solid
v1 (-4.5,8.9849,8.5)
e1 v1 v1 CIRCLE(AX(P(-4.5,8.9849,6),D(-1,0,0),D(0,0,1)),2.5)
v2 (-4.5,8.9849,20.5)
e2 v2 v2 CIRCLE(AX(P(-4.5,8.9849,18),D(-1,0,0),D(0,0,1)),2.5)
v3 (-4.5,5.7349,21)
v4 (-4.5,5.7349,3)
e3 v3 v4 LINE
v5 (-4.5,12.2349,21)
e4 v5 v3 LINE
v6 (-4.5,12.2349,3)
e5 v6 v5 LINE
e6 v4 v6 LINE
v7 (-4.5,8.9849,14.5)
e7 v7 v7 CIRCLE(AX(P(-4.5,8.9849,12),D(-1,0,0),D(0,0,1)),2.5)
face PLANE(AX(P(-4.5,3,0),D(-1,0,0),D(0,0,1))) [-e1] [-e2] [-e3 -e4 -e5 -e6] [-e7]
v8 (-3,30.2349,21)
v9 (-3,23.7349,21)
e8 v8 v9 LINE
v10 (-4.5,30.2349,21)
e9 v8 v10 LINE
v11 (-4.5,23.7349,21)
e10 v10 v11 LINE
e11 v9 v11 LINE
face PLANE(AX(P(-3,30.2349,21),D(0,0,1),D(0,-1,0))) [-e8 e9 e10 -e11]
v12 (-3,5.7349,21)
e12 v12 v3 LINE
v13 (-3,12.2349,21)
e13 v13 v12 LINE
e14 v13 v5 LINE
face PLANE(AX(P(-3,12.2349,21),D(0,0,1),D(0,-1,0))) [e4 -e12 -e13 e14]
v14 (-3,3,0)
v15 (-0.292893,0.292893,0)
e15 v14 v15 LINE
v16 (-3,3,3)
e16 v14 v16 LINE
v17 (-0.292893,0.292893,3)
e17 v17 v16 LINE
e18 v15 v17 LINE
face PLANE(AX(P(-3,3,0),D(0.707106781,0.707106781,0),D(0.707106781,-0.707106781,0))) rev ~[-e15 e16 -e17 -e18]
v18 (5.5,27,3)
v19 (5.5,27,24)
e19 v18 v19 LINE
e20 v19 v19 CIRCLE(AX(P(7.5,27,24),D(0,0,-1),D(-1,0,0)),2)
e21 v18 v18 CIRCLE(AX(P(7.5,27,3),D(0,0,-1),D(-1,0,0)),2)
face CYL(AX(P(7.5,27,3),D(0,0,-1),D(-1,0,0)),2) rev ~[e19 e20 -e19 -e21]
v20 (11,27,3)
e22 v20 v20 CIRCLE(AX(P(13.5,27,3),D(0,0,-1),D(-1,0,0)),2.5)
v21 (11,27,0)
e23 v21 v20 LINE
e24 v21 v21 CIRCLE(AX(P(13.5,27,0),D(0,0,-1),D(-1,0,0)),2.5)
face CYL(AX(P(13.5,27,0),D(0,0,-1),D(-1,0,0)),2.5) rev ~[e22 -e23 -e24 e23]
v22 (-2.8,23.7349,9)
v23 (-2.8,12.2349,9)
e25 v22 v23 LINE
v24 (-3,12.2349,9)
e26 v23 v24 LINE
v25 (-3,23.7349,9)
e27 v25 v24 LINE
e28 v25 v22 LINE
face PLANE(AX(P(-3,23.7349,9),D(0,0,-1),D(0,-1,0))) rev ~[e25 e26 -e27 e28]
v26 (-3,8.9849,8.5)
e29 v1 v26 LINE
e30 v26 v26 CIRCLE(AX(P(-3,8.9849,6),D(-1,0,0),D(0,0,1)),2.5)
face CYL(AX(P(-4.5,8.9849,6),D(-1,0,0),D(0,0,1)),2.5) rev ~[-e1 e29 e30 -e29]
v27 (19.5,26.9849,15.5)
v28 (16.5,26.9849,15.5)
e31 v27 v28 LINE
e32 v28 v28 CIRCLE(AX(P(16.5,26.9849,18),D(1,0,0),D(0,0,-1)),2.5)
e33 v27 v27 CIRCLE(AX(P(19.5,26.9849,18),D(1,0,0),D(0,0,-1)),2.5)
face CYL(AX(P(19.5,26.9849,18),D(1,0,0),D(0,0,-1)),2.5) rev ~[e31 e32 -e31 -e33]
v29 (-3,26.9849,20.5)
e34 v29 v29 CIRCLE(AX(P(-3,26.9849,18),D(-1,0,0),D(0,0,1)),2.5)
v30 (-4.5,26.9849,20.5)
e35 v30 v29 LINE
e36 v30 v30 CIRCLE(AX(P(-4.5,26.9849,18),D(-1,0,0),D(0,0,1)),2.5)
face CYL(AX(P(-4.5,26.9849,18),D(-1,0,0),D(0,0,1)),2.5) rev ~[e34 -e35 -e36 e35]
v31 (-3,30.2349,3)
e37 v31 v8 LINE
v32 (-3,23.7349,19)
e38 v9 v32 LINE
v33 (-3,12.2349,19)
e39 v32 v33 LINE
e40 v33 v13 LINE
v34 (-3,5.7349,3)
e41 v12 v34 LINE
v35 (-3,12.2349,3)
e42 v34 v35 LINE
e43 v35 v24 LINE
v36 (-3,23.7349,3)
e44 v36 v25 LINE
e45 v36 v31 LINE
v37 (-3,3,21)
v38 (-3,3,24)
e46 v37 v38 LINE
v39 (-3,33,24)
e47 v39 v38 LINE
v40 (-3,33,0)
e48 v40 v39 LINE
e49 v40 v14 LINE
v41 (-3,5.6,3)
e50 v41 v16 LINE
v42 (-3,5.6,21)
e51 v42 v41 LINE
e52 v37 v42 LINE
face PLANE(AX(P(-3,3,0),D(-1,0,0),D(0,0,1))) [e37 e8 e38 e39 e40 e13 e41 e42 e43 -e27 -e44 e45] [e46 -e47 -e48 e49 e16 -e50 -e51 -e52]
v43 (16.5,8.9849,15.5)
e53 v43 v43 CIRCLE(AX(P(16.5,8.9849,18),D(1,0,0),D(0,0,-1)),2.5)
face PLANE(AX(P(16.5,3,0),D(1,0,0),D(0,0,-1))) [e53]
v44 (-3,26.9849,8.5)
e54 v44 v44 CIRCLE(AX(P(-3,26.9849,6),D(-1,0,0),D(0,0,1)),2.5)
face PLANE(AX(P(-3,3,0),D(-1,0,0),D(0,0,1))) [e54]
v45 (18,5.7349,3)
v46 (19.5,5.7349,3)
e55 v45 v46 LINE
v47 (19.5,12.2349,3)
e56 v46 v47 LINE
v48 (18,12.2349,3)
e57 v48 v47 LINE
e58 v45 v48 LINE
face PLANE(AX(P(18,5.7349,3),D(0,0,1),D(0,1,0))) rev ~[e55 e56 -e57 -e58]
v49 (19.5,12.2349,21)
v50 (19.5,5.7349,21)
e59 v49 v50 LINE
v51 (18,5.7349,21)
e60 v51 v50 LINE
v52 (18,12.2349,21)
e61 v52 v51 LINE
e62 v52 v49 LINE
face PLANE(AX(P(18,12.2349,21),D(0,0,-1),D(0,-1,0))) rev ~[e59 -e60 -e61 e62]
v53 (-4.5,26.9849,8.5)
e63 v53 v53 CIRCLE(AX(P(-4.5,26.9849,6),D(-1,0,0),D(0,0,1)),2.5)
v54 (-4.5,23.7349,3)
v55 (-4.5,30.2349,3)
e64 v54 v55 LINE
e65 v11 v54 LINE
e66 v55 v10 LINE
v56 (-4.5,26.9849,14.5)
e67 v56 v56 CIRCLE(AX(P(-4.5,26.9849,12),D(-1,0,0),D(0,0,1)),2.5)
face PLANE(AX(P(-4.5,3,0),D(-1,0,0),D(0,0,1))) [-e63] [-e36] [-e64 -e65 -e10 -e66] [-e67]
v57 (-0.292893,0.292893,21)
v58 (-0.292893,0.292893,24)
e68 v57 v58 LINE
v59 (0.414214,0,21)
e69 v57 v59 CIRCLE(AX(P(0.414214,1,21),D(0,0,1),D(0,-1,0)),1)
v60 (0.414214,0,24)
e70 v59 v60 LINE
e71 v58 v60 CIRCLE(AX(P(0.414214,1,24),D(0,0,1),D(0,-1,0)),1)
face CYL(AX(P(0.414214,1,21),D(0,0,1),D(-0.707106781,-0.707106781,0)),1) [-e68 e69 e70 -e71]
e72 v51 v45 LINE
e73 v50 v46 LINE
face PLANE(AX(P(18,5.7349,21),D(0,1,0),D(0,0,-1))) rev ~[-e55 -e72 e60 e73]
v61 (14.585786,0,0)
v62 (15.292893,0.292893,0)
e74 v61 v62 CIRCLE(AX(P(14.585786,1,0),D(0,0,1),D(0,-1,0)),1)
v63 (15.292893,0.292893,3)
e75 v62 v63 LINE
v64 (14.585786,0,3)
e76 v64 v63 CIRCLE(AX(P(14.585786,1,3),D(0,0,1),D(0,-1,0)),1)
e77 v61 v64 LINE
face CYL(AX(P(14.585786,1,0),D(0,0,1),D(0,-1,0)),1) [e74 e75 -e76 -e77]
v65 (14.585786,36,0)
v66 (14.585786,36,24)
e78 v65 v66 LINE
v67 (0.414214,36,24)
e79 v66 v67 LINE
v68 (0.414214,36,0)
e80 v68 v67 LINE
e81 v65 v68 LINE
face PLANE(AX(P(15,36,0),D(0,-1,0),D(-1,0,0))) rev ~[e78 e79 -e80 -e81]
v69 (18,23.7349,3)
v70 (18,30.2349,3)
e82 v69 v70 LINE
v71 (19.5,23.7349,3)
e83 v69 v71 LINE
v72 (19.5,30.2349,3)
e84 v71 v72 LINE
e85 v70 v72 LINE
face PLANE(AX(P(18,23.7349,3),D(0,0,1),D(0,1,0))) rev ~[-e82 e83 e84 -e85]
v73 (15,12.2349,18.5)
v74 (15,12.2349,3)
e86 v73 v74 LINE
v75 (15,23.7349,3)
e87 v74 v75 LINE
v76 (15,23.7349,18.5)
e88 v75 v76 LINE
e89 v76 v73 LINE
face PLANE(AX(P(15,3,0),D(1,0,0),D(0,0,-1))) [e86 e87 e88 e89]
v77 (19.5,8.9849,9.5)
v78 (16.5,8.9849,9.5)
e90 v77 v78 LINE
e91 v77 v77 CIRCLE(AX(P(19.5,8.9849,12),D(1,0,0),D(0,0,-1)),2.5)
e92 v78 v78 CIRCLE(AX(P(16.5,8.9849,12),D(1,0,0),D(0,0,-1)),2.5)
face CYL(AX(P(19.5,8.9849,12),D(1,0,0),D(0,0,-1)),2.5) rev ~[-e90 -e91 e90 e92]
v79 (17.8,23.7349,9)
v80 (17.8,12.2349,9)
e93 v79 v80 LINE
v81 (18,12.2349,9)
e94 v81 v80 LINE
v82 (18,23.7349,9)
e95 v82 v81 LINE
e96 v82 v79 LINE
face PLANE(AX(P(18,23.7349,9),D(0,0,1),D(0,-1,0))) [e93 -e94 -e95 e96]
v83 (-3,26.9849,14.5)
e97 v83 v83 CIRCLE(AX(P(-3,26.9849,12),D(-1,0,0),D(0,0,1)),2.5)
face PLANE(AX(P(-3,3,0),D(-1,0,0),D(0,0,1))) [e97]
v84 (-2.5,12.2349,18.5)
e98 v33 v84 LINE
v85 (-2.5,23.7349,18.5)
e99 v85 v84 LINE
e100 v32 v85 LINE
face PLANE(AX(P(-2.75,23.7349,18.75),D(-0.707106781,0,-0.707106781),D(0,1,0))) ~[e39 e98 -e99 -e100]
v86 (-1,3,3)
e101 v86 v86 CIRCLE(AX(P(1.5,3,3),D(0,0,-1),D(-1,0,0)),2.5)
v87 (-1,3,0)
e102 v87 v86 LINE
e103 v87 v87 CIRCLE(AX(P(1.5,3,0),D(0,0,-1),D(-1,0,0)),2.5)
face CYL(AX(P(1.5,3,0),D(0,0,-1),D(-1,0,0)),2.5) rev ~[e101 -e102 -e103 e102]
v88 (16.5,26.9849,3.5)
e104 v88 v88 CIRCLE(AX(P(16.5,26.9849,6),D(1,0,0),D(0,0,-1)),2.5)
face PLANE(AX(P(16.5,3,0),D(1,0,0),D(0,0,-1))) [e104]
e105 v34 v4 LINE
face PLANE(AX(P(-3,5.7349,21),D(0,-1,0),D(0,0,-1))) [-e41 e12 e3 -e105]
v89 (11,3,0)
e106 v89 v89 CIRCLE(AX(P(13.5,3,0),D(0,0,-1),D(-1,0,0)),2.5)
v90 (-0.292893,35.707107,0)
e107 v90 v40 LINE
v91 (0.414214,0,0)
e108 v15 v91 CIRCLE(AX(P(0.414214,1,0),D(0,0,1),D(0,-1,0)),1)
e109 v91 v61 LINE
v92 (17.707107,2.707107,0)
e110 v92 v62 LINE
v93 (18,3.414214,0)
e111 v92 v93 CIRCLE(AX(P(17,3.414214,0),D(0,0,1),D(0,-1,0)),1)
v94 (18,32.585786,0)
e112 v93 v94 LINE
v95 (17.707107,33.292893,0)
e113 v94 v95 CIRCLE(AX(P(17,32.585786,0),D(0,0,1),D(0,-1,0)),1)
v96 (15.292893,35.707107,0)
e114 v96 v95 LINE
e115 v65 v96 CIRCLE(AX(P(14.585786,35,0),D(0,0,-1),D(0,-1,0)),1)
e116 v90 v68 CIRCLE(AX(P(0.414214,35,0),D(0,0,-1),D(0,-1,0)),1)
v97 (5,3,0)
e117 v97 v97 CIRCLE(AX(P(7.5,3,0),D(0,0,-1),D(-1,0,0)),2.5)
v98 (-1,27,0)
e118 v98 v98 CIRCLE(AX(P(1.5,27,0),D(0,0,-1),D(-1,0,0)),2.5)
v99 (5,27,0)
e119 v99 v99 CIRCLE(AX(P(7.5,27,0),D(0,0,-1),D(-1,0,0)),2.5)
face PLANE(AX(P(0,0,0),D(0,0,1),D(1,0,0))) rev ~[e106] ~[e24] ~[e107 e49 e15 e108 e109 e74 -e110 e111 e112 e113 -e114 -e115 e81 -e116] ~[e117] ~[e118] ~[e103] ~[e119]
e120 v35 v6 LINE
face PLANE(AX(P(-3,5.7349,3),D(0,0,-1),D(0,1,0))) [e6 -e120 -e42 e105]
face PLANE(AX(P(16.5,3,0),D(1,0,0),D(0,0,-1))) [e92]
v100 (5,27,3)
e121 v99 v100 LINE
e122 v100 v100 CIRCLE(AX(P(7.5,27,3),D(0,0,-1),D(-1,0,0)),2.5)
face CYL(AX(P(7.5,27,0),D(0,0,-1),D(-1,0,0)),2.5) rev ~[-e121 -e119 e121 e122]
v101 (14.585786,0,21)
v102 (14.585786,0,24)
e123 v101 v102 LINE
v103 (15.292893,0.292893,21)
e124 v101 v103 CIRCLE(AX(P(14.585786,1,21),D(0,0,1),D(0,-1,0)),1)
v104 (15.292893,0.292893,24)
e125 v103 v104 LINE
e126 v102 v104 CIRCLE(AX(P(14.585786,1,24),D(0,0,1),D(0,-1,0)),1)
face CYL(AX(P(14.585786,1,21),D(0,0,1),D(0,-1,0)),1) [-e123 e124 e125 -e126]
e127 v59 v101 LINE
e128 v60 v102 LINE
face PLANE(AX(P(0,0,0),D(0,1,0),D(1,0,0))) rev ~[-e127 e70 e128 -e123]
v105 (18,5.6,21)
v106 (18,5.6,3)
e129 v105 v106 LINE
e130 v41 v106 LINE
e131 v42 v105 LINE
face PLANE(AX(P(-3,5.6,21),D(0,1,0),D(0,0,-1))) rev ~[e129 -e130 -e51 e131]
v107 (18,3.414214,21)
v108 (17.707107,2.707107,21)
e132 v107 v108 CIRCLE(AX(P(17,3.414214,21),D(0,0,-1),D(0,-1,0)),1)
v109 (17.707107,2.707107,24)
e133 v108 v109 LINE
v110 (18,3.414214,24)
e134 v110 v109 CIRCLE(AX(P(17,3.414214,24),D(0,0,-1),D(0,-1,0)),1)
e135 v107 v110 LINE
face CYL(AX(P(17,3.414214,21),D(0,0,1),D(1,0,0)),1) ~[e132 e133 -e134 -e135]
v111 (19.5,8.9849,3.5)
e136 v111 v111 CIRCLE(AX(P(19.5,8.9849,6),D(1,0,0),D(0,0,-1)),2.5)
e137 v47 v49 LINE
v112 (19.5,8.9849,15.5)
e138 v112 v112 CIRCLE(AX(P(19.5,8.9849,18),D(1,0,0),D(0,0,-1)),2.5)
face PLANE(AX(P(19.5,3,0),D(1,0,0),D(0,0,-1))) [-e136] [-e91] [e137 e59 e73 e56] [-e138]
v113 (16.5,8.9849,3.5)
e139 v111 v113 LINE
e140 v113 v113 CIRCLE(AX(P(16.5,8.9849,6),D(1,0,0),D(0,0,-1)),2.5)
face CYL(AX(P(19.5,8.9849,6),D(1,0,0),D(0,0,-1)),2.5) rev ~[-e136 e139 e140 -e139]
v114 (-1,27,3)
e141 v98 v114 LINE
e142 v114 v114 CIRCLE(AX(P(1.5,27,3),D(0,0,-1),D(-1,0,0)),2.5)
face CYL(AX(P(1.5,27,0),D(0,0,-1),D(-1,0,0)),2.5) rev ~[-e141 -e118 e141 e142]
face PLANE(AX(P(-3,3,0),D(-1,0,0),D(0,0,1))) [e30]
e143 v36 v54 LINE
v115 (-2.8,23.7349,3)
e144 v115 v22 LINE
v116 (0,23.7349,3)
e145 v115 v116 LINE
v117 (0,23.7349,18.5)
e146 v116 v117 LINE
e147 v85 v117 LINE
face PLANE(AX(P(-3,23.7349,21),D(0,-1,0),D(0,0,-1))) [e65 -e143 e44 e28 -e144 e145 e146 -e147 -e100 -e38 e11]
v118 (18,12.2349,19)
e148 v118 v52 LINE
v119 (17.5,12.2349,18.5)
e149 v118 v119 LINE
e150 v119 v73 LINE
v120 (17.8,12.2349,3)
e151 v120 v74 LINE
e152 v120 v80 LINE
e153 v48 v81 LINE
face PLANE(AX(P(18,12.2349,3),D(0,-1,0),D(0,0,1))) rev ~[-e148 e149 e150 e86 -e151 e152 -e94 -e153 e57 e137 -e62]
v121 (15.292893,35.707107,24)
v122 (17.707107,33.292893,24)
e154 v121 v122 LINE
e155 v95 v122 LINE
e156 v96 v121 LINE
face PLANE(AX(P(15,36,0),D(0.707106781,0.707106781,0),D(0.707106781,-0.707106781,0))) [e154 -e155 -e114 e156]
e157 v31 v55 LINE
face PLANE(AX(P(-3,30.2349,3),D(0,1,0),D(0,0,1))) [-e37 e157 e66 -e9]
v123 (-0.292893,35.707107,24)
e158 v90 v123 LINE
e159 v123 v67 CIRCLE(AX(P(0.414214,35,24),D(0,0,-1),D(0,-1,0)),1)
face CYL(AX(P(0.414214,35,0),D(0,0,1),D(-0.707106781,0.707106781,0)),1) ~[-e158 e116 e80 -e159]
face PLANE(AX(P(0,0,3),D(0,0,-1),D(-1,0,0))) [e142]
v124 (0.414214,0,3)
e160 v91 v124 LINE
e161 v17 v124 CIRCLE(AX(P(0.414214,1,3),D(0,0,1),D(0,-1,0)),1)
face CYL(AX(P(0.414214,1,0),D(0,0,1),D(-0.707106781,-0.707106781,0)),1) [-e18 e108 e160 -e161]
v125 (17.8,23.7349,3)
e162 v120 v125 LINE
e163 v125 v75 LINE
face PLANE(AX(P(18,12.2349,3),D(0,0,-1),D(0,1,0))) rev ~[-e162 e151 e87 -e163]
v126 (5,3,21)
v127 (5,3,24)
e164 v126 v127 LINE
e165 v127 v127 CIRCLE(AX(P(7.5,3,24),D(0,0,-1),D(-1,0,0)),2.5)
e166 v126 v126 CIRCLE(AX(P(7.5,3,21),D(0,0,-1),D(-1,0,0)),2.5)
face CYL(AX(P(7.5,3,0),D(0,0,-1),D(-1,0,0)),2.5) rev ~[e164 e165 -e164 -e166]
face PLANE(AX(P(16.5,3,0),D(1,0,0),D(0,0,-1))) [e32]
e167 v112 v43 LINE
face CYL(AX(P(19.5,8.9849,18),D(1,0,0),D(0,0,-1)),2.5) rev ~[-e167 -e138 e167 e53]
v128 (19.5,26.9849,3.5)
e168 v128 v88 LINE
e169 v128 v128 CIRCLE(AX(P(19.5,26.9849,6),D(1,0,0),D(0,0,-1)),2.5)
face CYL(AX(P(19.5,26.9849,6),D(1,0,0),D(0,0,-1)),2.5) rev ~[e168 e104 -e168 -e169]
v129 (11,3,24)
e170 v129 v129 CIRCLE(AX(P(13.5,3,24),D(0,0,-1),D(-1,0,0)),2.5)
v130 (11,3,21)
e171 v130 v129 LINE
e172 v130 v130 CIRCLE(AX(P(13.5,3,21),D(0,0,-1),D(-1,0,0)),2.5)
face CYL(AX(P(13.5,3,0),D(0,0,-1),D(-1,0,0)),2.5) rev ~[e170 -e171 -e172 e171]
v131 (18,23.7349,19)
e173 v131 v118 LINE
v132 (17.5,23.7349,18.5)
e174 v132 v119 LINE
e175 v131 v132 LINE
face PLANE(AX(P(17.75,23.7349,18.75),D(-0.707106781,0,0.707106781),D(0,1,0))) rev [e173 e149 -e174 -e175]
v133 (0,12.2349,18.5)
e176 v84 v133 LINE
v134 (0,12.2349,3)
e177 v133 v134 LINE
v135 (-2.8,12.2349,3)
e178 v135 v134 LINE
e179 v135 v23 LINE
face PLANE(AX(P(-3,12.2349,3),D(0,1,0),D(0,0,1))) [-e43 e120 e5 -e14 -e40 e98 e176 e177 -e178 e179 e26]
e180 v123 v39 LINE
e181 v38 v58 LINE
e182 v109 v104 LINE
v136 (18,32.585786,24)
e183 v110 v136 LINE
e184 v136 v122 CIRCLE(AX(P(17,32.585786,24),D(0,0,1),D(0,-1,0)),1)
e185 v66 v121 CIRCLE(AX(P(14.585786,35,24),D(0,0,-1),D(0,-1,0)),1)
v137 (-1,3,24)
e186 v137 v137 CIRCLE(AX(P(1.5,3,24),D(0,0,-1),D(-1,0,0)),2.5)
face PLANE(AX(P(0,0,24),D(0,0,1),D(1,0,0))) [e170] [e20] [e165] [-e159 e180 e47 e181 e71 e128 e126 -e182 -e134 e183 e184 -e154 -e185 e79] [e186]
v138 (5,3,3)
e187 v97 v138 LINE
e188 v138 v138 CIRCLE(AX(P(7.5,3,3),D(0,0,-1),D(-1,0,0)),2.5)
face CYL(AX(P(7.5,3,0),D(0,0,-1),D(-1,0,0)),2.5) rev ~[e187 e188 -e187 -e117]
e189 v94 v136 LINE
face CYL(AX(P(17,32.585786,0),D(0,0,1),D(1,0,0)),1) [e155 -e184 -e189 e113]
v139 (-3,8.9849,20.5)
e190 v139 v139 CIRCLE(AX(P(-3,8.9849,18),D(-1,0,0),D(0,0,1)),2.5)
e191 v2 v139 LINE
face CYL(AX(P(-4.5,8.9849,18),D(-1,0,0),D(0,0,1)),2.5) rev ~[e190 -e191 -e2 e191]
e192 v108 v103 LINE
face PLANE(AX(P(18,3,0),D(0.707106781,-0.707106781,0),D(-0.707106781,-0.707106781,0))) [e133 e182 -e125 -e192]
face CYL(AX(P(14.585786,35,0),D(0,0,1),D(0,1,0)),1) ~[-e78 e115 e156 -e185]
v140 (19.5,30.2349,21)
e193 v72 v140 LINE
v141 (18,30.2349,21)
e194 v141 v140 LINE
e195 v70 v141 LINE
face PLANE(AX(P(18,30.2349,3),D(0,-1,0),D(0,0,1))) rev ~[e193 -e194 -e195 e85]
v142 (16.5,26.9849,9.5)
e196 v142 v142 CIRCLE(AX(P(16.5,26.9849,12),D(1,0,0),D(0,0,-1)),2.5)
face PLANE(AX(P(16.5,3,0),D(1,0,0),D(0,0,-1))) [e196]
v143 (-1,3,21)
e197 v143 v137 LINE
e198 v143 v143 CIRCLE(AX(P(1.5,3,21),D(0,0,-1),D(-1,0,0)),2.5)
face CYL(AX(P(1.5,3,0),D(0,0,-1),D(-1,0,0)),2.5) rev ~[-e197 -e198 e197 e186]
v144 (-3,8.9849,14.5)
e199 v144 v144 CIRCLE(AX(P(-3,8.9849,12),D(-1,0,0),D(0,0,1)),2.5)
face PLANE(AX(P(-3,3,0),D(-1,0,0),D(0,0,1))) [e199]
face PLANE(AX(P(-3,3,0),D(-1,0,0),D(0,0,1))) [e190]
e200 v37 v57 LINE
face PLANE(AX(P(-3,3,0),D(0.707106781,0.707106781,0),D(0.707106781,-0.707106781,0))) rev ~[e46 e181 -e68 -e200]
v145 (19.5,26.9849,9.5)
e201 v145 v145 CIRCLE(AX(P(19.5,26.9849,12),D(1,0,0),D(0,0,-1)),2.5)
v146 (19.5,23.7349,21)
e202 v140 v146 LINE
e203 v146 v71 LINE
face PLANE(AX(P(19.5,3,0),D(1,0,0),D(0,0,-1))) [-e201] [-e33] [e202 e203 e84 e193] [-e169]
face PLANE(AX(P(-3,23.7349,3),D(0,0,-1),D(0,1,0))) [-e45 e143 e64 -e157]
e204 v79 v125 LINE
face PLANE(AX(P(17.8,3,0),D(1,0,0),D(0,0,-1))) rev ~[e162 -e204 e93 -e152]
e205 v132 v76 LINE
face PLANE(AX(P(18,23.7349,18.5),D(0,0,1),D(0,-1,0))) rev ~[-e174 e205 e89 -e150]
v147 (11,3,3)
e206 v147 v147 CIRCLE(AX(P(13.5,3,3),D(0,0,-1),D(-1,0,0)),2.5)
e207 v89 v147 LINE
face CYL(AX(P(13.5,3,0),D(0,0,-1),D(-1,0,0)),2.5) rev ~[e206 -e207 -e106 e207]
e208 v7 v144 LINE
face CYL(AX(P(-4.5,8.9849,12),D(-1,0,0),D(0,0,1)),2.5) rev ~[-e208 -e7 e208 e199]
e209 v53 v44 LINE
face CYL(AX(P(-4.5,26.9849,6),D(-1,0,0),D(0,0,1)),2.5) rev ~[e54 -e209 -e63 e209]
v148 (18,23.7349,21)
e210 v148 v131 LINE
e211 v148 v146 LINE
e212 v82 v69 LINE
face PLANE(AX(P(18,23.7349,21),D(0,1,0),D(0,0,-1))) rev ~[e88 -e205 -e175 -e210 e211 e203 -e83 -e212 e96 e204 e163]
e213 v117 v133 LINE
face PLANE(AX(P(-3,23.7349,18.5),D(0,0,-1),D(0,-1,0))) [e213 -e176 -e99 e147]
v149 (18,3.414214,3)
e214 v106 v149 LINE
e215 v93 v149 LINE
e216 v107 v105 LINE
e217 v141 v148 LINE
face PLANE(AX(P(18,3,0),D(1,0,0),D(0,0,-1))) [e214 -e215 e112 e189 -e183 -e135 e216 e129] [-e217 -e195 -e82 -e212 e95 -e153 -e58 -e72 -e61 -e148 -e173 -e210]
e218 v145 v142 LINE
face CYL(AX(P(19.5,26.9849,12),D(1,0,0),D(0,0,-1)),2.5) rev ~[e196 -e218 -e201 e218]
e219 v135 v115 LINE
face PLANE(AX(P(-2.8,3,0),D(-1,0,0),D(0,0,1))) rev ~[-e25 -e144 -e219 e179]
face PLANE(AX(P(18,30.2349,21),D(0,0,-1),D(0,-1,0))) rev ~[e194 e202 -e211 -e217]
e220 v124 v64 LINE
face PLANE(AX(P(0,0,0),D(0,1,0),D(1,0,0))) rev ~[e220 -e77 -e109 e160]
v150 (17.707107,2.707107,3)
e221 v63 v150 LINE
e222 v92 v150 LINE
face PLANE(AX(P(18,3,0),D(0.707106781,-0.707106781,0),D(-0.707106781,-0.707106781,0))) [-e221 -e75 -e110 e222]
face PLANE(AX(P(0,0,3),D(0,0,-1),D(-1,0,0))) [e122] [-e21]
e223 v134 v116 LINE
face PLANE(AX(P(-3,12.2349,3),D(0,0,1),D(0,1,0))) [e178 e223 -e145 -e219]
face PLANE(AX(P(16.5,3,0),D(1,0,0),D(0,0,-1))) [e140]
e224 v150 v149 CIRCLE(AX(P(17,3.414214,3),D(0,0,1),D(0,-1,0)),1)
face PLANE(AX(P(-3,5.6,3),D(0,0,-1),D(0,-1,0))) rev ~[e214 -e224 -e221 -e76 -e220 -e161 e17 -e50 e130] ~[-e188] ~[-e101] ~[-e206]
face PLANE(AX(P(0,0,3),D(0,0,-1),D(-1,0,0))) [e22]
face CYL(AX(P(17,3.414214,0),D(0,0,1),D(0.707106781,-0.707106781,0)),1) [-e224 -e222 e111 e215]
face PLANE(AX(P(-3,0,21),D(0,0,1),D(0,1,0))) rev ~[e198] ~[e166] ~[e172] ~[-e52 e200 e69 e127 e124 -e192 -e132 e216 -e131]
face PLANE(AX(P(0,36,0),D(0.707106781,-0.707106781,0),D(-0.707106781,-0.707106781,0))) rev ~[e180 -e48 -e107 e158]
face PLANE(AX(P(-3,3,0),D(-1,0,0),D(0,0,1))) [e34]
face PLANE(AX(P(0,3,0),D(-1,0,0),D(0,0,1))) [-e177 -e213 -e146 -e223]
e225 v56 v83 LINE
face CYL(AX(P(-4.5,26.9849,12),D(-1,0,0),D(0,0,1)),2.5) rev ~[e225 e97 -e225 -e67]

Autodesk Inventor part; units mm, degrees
ref_plane "YZ Plane" through (0, 0, 0) normal (1, 0, 0) x (0, 1, 0)
ref_plane "XZ Plane" through (0, 0, 0) normal (0, 1, 0) x (-1, 0, 0)
ref_plane "XY Plane" through (0, 0, 0) normal (0, 0, 1) x (1, 0, 0)
sketch "Esquisse2" plane through (0, 0, 0) normal (0, 0, 1) x (1, 0, 0)
  line L0 (0, 0) -> (15, 0)
  line L1 (18, 3) -> (18, 33)
  line L2 (15, 36) -> (0, 36)
  line L3 (-3, 33) -> (-3, 3)
  line L4 (-3, 3) -> (0, 0)
  line L5 (0, 36) -> (-3, 33)
  line L6 (15, 36) -> (18, 33)
  line L7 (18, 3) -> (15, 0)
  line L8 (0, 36) -> (0, 0) construction
  line L9 (15, 0) -> (15, 36) construction
  line L10 (18, 33) -> (-3, 33) construction
  line L11 (18, 3) -> (-3, 3) construction
  dimension "d12" = 15
  dimension "d14" = 21
  dimension "d15" = 36
extrude "Extrusion1" add sketch "Esquisse2" along normal blind 24
sketch "Esquisse3" plane through (-3, 3, 0) normal (-1, 0, 0) x (0, 0, 1)
  line L0 (0, 0) -> (0, 30) construction
  line L1 (24, 30) -> (24, 0) construction
  line L2 (0, -3) -> (24, -3) construction
  line L3 (3, -3) -> (21, -3)
  line L4 (21, -3) -> (21, 2.6)
  line L5 (21, 2.6) -> (3, 2.6)
  line L6 (3, 2.6) -> (3, -3)
  line L7 (3, 2.6) -> (0, 2.6) construction
  line L8 (21, 2.6) -> (24, 2.6) construction
  dimension "d24" = 3
  dimension "d25" = 5.6
extrude "Extrusion2" cut sketch "Esquisse3" against normal through all
sketch "Esquisse4" plane through (0, 0, 0) normal (0, 0, -1) x (-1, 0, 0)
  line L0 (-15, 0) -> (0, 0) construction
  line L1 (0, 0) -> (3, 3) construction
  line L2 (0, 36) -> (-15, 36) construction
  circle A0 centre (-7.5, 3) radius 2.5
  line L3 (-15, 0) -> (-7.5, 3) construction
  line L4 (0, 0) -> (-7.5, 3) construction
  line L5 (-7.5, 3) -> (3, 3) construction
  circle A1 centre (-1.5, 3) radius 2.5
  circle A2 centre (-13.5, 3) radius 2.5
  circle A3 centre (-7.5, 3) radius 2.5
  dimension "d28" = 0.5
  dimension "d29" = 5
  dimension "d32" = 6
  dimension "d35" = 6
extrude "Extrusion3" cut sketch "Esquisse4" against normal through all
sketch "Esquisse5" plane through (0, 0, 0) normal (0, 0, -1) x (-1, 0, 0)
  circle A0 centre (-7.5, 3) radius 2.5 construction
  line L0 (3, 3) -> (3, 33) construction
  line L1 (0, 36) -> (-15, 36) construction
  line L2 (-7.5, 3) -> (-7.5, 36) construction
  circle A1 centre (-7.5, 27) radius 2.5
  line L3 (-7.5, 27) -> (3, 27) construction
  circle A2 centre (-1.5, 27) radius 2.5
  circle A3 centre (-13.5, 27) radius 2.5
  circle A4 centre (-7.5, 27) radius 2.5
  dimension "d40" = 5
  dimension "d41" = 24
  dimension "d44" = 6
  dimension "d47" = 6
extrude "Extrusion4" cut sketch "Esquisse5" against normal blind 3
sketch "Esquisse7" plane through (7.5, 27, 3) normal (0, 0, -1) x (-1, 0, 0)
  circle A0 centre (0, 0) radius 2.5 projected
  circle A1 centre (0, 0) radius 2
  point P0 (7.5, -27)
  dimension "d54" = 4
extrude "Extrusion6" cut sketch "Esquisse7" against normal through all contours A1
sketch "Esquisse8" plane through (18, 3, 0) normal (1, 0, 0) x (0, 0, -1)
  line L0 (0, 30) -> (0, 0) construction
  line L1 (0, 26.5) -> (0, 21.5) projected
  line L2 (-24, 21.4697) -> (-24, 26.4697) projected
  line L3 (-24, 23.9697) -> (0, 24) construction
  line L4 (-21, 20.7349) -> (-3, 20.7349)
  line L5 (-3, 20.7349) -> (-3, 27.2349)
  line L6 (-3, 27.2349) -> (-21, 27.2349)
  line L7 (-21, 27.2349) -> (-21, 20.7349)
  line L8 (-21, 20.7349) -> (-3, 27.2349) construction
  line L9 (-3, 20.7349) -> (-21, 27.2349) construction
  line L10 (-21, 2.6) -> (-3, 2.6) projected
  line L11 (-12, 23.9849) -> (-12, 2.6) construction
  line L12 (-21, 2.7349) -> (-3, 2.7349)
  line L13 (-3, 2.7349) -> (-3, 9.2349)
  line L14 (-3, 9.2349) -> (-21, 9.2349)
  line L15 (-21, 9.2349) -> (-21, 2.7349)
  point P0 (0, -3)
  dimension "d57" = 6.5
  dimension "d58" = 18
  dimension "d74" = 18
extrude "Extrusion7" add sketch "Esquisse8" along normal blind 1.5
sketch "Esquisse9" plane through (19.5, 3, 0) normal (1, 0, 0) x (0, 0, -1)
  line L0 (-3, 20.7349) -> (-3, 27.2349) construction
  line L1 (-21, 27.2349) -> (-21, 20.7349) construction
  line L2 (-21, 23.9849) -> (-3, 23.9849) construction
  circle A0 centre (-12, 23.9849) radius 2.5
  line L3 (-15, 23.9849) -> (3, 23.9849) construction
  circle A1 centre (-6, 23.9849) radius 2.5
  line L4 (-27, 23.9849) -> (-9, 23.9849) construction
  circle A2 centre (-18, 23.9849) radius 2.5
  line L5 (-21, 23.9849) -> (-3, 23.9849) construction
  circle A3 centre (-12, 23.9849) radius 2.5
  line L6 (-21, 20.7349) -> (-3, 20.7349) projected
  line L7 (-12, 23.9849) -> (-12, 11.4292) construction
  circle A4 centre (-12, 5.9849) radius 2.5
  circle A5 centre (-6, 5.9849) radius 2.5
  circle A6 centre (-18, 5.9849) radius 2.5
  point P0 (0, -3)
  dimension "d61" = 5
  dimension "d64" = 6
  dimension "d67" = 6
  dimension "d81" = 18
extrude "Extrusion8" cut sketch "Esquisse9" against normal blind 3
sketch "Esquisse10" plane through (-3, 3, 0) normal (-1, 0, 0) x (0, 0, 1)
  line L0 (3, 27.2349) -> (21, 27.2349) projected
  line L1 (21, 27.2349) -> (21, 20.7349) projected
  line L2 (21, 20.7349) -> (3, 20.7349) projected
  line L3 (3, 20.7349) -> (3, 27.2349) projected
  line L4 (21, 9.2349) -> (21, 2.7349) projected
  line L5 (21, 2.7349) -> (3, 2.7349) projected
  line L6 (3, 2.7349) -> (3, 9.2349) projected
  line L7 (3, 9.2349) -> (21, 9.2349) projected
  point P0 (0, -3)
extrude "Extrusion9" add sketch "Esquisse10" along normal blind 1.5
sketch "Esquisse11" plane through (-4.5, 3, 0) normal (-1, 0, 0) x (0, 0, 1)
  circle A0 centre (6, 23.9849) radius 2.5 projected
  circle A1 centre (12, 23.9849) radius 2.5 projected
  circle A2 centre (18, 23.9849) radius 2.5 projected
  circle A3 centre (18, 5.9849) radius 2.5 projected
  circle A4 centre (12, 5.9849) radius 2.5 projected
  circle A5 centre (6, 5.9849) radius 2.5 projected
  point P0 (0, -3)
extrude "Extrusion10" cut sketch "Esquisse11" against normal blind 1.5
sketch "Esquisse12" plane through (-3, 3, 0) normal (-1, 0, 0) x (0, 0, 1)
  line L0 (21, 27.2349) -> (21, 20.7349) projected
  line L1 (21, 20.7349) -> (3, 20.7349) projected
  line L2 (3, 20.7349) -> (3, 27.2349) projected
  line L3 (3, 27.2349) -> (21, 27.2349) projected
  line L4 (21, 2.7349) -> (3, 2.7349) projected
  line L5 (3, 2.7349) -> (3, 9.2349) projected
  line L6 (3, 9.2349) -> (21, 9.2349) projected
  line L7 (21, 9.2349) -> (21, 2.7349) projected
  line L8 (21, 2.6) -> (21, 0) projected
  line L9 (21, 0) -> (24, 0) projected
  line L10 (24, 30) -> (24, 0) projected
  line L11 (0, 30) -> (24, 30) projected
  line L12 (0, 0) -> (0, 30) projected
  line L13 (0, 0) -> (3, 0) projected
  line L14 (3, 0) -> (3, 2.6) projected
  line L15 (3, 2.6) -> (21, 2.6) projected
  point P0 (0, -3)
sketch "Esquisse13" plane through (18, 3, 0) normal (1, 0, 0) x (0, 0, -1)
  line L0 (-21, 9.2349) -> (-3, 9.2349) projected
  line L1 (-3, 20.7349) -> (-18.5, 20.7349)
  line L2 (-18.5, 20.7349) -> (-18.5, 9.2349)
  line L3 (-18.5, 9.2349) -> (-3, 9.2349)
  line L4 (-3, 9.2349) -> (-3, 20.7349)
  point P0 (0, -3)
  dimension "d90" = 15.5
extrude "Extrusion11" cut sketch "Esquisse13" against normal blind 3
sketch "Esquisse14" plane through (18, 3, 0) normal (1, 0, 0) x (0, 0, -1)
  line L0 (-21, 20.7349) -> (-3, 20.7349) projected
  line L1 (-3, 9.2349) -> (-21, 9.2349) projected
  line L2 (-3, 20.7349) -> (-9, 20.7349)
  line L3 (-9, 20.7349) -> (-9, 9.2349)
  line L4 (-9, 9.2349) -> (-3, 9.2349)
  line L5 (-3, 9.2349) -> (-3, 20.7349)
  point P0 (0, -3)
  dimension "d93" = 6
extrude "Extrusion12" add sketch "Esquisse14" against normal blind 0.2
sketch "Esquisse16" plane through (-3, 3, 0) normal (-1, 0, 0) x (0, 0, 1)
  line L0 (3, 9.2349) -> (21, 9.2349) construction
  line L1 (3, 20.7349) -> (18.5, 20.7349)
  line L2 (18.5, 20.7349) -> (18.5, 9.2349)
  line L3 (18.5, 9.2349) -> (3, 9.2349)
  line L4 (3, 9.2349) -> (3, 20.7349)
  point P0 (0, -3)
  dimension "d96" = 15.5
extrude "Extrusion13" cut sketch "Esquisse16" against normal blind 3
sketch "Esquisse17" plane through (-3, 3, 0) normal (-1, 0, 0) x (0, 0, 1)
  line L0 (3, 20.7349) -> (9, 20.7349)
  line L1 (9, 20.7349) -> (9, 9.2197)
  line L2 (9, 9.2197) -> (3, 9.2197)
  line L3 (3, 9.2197) -> (3, 20.7349)
  line L4 (3, 9.2349) -> (3, 20.7349) projected
  point P0 (0, -3)
  dimension "d99" = 6
extrude "Extrusion14" add sketch "Esquisse17" against normal blind 0.2
fillet "Congé1" radius 1 9 edges at (18, 33, 12) (15, 36, 12) (0, 36, 12) (0, 0, 1.5) (0, 0, 22.5) (15, 0, 1.5) (18, 3, 1.5) (15, 0, 22.5) (18, 3, 22.5)
chamfer "Chanfrein1" distance 0.5 angle 45 2 edges at (-3, 17.9849, 18.5) (18, 17.9849, 18.5)
properties part number "Motor"
